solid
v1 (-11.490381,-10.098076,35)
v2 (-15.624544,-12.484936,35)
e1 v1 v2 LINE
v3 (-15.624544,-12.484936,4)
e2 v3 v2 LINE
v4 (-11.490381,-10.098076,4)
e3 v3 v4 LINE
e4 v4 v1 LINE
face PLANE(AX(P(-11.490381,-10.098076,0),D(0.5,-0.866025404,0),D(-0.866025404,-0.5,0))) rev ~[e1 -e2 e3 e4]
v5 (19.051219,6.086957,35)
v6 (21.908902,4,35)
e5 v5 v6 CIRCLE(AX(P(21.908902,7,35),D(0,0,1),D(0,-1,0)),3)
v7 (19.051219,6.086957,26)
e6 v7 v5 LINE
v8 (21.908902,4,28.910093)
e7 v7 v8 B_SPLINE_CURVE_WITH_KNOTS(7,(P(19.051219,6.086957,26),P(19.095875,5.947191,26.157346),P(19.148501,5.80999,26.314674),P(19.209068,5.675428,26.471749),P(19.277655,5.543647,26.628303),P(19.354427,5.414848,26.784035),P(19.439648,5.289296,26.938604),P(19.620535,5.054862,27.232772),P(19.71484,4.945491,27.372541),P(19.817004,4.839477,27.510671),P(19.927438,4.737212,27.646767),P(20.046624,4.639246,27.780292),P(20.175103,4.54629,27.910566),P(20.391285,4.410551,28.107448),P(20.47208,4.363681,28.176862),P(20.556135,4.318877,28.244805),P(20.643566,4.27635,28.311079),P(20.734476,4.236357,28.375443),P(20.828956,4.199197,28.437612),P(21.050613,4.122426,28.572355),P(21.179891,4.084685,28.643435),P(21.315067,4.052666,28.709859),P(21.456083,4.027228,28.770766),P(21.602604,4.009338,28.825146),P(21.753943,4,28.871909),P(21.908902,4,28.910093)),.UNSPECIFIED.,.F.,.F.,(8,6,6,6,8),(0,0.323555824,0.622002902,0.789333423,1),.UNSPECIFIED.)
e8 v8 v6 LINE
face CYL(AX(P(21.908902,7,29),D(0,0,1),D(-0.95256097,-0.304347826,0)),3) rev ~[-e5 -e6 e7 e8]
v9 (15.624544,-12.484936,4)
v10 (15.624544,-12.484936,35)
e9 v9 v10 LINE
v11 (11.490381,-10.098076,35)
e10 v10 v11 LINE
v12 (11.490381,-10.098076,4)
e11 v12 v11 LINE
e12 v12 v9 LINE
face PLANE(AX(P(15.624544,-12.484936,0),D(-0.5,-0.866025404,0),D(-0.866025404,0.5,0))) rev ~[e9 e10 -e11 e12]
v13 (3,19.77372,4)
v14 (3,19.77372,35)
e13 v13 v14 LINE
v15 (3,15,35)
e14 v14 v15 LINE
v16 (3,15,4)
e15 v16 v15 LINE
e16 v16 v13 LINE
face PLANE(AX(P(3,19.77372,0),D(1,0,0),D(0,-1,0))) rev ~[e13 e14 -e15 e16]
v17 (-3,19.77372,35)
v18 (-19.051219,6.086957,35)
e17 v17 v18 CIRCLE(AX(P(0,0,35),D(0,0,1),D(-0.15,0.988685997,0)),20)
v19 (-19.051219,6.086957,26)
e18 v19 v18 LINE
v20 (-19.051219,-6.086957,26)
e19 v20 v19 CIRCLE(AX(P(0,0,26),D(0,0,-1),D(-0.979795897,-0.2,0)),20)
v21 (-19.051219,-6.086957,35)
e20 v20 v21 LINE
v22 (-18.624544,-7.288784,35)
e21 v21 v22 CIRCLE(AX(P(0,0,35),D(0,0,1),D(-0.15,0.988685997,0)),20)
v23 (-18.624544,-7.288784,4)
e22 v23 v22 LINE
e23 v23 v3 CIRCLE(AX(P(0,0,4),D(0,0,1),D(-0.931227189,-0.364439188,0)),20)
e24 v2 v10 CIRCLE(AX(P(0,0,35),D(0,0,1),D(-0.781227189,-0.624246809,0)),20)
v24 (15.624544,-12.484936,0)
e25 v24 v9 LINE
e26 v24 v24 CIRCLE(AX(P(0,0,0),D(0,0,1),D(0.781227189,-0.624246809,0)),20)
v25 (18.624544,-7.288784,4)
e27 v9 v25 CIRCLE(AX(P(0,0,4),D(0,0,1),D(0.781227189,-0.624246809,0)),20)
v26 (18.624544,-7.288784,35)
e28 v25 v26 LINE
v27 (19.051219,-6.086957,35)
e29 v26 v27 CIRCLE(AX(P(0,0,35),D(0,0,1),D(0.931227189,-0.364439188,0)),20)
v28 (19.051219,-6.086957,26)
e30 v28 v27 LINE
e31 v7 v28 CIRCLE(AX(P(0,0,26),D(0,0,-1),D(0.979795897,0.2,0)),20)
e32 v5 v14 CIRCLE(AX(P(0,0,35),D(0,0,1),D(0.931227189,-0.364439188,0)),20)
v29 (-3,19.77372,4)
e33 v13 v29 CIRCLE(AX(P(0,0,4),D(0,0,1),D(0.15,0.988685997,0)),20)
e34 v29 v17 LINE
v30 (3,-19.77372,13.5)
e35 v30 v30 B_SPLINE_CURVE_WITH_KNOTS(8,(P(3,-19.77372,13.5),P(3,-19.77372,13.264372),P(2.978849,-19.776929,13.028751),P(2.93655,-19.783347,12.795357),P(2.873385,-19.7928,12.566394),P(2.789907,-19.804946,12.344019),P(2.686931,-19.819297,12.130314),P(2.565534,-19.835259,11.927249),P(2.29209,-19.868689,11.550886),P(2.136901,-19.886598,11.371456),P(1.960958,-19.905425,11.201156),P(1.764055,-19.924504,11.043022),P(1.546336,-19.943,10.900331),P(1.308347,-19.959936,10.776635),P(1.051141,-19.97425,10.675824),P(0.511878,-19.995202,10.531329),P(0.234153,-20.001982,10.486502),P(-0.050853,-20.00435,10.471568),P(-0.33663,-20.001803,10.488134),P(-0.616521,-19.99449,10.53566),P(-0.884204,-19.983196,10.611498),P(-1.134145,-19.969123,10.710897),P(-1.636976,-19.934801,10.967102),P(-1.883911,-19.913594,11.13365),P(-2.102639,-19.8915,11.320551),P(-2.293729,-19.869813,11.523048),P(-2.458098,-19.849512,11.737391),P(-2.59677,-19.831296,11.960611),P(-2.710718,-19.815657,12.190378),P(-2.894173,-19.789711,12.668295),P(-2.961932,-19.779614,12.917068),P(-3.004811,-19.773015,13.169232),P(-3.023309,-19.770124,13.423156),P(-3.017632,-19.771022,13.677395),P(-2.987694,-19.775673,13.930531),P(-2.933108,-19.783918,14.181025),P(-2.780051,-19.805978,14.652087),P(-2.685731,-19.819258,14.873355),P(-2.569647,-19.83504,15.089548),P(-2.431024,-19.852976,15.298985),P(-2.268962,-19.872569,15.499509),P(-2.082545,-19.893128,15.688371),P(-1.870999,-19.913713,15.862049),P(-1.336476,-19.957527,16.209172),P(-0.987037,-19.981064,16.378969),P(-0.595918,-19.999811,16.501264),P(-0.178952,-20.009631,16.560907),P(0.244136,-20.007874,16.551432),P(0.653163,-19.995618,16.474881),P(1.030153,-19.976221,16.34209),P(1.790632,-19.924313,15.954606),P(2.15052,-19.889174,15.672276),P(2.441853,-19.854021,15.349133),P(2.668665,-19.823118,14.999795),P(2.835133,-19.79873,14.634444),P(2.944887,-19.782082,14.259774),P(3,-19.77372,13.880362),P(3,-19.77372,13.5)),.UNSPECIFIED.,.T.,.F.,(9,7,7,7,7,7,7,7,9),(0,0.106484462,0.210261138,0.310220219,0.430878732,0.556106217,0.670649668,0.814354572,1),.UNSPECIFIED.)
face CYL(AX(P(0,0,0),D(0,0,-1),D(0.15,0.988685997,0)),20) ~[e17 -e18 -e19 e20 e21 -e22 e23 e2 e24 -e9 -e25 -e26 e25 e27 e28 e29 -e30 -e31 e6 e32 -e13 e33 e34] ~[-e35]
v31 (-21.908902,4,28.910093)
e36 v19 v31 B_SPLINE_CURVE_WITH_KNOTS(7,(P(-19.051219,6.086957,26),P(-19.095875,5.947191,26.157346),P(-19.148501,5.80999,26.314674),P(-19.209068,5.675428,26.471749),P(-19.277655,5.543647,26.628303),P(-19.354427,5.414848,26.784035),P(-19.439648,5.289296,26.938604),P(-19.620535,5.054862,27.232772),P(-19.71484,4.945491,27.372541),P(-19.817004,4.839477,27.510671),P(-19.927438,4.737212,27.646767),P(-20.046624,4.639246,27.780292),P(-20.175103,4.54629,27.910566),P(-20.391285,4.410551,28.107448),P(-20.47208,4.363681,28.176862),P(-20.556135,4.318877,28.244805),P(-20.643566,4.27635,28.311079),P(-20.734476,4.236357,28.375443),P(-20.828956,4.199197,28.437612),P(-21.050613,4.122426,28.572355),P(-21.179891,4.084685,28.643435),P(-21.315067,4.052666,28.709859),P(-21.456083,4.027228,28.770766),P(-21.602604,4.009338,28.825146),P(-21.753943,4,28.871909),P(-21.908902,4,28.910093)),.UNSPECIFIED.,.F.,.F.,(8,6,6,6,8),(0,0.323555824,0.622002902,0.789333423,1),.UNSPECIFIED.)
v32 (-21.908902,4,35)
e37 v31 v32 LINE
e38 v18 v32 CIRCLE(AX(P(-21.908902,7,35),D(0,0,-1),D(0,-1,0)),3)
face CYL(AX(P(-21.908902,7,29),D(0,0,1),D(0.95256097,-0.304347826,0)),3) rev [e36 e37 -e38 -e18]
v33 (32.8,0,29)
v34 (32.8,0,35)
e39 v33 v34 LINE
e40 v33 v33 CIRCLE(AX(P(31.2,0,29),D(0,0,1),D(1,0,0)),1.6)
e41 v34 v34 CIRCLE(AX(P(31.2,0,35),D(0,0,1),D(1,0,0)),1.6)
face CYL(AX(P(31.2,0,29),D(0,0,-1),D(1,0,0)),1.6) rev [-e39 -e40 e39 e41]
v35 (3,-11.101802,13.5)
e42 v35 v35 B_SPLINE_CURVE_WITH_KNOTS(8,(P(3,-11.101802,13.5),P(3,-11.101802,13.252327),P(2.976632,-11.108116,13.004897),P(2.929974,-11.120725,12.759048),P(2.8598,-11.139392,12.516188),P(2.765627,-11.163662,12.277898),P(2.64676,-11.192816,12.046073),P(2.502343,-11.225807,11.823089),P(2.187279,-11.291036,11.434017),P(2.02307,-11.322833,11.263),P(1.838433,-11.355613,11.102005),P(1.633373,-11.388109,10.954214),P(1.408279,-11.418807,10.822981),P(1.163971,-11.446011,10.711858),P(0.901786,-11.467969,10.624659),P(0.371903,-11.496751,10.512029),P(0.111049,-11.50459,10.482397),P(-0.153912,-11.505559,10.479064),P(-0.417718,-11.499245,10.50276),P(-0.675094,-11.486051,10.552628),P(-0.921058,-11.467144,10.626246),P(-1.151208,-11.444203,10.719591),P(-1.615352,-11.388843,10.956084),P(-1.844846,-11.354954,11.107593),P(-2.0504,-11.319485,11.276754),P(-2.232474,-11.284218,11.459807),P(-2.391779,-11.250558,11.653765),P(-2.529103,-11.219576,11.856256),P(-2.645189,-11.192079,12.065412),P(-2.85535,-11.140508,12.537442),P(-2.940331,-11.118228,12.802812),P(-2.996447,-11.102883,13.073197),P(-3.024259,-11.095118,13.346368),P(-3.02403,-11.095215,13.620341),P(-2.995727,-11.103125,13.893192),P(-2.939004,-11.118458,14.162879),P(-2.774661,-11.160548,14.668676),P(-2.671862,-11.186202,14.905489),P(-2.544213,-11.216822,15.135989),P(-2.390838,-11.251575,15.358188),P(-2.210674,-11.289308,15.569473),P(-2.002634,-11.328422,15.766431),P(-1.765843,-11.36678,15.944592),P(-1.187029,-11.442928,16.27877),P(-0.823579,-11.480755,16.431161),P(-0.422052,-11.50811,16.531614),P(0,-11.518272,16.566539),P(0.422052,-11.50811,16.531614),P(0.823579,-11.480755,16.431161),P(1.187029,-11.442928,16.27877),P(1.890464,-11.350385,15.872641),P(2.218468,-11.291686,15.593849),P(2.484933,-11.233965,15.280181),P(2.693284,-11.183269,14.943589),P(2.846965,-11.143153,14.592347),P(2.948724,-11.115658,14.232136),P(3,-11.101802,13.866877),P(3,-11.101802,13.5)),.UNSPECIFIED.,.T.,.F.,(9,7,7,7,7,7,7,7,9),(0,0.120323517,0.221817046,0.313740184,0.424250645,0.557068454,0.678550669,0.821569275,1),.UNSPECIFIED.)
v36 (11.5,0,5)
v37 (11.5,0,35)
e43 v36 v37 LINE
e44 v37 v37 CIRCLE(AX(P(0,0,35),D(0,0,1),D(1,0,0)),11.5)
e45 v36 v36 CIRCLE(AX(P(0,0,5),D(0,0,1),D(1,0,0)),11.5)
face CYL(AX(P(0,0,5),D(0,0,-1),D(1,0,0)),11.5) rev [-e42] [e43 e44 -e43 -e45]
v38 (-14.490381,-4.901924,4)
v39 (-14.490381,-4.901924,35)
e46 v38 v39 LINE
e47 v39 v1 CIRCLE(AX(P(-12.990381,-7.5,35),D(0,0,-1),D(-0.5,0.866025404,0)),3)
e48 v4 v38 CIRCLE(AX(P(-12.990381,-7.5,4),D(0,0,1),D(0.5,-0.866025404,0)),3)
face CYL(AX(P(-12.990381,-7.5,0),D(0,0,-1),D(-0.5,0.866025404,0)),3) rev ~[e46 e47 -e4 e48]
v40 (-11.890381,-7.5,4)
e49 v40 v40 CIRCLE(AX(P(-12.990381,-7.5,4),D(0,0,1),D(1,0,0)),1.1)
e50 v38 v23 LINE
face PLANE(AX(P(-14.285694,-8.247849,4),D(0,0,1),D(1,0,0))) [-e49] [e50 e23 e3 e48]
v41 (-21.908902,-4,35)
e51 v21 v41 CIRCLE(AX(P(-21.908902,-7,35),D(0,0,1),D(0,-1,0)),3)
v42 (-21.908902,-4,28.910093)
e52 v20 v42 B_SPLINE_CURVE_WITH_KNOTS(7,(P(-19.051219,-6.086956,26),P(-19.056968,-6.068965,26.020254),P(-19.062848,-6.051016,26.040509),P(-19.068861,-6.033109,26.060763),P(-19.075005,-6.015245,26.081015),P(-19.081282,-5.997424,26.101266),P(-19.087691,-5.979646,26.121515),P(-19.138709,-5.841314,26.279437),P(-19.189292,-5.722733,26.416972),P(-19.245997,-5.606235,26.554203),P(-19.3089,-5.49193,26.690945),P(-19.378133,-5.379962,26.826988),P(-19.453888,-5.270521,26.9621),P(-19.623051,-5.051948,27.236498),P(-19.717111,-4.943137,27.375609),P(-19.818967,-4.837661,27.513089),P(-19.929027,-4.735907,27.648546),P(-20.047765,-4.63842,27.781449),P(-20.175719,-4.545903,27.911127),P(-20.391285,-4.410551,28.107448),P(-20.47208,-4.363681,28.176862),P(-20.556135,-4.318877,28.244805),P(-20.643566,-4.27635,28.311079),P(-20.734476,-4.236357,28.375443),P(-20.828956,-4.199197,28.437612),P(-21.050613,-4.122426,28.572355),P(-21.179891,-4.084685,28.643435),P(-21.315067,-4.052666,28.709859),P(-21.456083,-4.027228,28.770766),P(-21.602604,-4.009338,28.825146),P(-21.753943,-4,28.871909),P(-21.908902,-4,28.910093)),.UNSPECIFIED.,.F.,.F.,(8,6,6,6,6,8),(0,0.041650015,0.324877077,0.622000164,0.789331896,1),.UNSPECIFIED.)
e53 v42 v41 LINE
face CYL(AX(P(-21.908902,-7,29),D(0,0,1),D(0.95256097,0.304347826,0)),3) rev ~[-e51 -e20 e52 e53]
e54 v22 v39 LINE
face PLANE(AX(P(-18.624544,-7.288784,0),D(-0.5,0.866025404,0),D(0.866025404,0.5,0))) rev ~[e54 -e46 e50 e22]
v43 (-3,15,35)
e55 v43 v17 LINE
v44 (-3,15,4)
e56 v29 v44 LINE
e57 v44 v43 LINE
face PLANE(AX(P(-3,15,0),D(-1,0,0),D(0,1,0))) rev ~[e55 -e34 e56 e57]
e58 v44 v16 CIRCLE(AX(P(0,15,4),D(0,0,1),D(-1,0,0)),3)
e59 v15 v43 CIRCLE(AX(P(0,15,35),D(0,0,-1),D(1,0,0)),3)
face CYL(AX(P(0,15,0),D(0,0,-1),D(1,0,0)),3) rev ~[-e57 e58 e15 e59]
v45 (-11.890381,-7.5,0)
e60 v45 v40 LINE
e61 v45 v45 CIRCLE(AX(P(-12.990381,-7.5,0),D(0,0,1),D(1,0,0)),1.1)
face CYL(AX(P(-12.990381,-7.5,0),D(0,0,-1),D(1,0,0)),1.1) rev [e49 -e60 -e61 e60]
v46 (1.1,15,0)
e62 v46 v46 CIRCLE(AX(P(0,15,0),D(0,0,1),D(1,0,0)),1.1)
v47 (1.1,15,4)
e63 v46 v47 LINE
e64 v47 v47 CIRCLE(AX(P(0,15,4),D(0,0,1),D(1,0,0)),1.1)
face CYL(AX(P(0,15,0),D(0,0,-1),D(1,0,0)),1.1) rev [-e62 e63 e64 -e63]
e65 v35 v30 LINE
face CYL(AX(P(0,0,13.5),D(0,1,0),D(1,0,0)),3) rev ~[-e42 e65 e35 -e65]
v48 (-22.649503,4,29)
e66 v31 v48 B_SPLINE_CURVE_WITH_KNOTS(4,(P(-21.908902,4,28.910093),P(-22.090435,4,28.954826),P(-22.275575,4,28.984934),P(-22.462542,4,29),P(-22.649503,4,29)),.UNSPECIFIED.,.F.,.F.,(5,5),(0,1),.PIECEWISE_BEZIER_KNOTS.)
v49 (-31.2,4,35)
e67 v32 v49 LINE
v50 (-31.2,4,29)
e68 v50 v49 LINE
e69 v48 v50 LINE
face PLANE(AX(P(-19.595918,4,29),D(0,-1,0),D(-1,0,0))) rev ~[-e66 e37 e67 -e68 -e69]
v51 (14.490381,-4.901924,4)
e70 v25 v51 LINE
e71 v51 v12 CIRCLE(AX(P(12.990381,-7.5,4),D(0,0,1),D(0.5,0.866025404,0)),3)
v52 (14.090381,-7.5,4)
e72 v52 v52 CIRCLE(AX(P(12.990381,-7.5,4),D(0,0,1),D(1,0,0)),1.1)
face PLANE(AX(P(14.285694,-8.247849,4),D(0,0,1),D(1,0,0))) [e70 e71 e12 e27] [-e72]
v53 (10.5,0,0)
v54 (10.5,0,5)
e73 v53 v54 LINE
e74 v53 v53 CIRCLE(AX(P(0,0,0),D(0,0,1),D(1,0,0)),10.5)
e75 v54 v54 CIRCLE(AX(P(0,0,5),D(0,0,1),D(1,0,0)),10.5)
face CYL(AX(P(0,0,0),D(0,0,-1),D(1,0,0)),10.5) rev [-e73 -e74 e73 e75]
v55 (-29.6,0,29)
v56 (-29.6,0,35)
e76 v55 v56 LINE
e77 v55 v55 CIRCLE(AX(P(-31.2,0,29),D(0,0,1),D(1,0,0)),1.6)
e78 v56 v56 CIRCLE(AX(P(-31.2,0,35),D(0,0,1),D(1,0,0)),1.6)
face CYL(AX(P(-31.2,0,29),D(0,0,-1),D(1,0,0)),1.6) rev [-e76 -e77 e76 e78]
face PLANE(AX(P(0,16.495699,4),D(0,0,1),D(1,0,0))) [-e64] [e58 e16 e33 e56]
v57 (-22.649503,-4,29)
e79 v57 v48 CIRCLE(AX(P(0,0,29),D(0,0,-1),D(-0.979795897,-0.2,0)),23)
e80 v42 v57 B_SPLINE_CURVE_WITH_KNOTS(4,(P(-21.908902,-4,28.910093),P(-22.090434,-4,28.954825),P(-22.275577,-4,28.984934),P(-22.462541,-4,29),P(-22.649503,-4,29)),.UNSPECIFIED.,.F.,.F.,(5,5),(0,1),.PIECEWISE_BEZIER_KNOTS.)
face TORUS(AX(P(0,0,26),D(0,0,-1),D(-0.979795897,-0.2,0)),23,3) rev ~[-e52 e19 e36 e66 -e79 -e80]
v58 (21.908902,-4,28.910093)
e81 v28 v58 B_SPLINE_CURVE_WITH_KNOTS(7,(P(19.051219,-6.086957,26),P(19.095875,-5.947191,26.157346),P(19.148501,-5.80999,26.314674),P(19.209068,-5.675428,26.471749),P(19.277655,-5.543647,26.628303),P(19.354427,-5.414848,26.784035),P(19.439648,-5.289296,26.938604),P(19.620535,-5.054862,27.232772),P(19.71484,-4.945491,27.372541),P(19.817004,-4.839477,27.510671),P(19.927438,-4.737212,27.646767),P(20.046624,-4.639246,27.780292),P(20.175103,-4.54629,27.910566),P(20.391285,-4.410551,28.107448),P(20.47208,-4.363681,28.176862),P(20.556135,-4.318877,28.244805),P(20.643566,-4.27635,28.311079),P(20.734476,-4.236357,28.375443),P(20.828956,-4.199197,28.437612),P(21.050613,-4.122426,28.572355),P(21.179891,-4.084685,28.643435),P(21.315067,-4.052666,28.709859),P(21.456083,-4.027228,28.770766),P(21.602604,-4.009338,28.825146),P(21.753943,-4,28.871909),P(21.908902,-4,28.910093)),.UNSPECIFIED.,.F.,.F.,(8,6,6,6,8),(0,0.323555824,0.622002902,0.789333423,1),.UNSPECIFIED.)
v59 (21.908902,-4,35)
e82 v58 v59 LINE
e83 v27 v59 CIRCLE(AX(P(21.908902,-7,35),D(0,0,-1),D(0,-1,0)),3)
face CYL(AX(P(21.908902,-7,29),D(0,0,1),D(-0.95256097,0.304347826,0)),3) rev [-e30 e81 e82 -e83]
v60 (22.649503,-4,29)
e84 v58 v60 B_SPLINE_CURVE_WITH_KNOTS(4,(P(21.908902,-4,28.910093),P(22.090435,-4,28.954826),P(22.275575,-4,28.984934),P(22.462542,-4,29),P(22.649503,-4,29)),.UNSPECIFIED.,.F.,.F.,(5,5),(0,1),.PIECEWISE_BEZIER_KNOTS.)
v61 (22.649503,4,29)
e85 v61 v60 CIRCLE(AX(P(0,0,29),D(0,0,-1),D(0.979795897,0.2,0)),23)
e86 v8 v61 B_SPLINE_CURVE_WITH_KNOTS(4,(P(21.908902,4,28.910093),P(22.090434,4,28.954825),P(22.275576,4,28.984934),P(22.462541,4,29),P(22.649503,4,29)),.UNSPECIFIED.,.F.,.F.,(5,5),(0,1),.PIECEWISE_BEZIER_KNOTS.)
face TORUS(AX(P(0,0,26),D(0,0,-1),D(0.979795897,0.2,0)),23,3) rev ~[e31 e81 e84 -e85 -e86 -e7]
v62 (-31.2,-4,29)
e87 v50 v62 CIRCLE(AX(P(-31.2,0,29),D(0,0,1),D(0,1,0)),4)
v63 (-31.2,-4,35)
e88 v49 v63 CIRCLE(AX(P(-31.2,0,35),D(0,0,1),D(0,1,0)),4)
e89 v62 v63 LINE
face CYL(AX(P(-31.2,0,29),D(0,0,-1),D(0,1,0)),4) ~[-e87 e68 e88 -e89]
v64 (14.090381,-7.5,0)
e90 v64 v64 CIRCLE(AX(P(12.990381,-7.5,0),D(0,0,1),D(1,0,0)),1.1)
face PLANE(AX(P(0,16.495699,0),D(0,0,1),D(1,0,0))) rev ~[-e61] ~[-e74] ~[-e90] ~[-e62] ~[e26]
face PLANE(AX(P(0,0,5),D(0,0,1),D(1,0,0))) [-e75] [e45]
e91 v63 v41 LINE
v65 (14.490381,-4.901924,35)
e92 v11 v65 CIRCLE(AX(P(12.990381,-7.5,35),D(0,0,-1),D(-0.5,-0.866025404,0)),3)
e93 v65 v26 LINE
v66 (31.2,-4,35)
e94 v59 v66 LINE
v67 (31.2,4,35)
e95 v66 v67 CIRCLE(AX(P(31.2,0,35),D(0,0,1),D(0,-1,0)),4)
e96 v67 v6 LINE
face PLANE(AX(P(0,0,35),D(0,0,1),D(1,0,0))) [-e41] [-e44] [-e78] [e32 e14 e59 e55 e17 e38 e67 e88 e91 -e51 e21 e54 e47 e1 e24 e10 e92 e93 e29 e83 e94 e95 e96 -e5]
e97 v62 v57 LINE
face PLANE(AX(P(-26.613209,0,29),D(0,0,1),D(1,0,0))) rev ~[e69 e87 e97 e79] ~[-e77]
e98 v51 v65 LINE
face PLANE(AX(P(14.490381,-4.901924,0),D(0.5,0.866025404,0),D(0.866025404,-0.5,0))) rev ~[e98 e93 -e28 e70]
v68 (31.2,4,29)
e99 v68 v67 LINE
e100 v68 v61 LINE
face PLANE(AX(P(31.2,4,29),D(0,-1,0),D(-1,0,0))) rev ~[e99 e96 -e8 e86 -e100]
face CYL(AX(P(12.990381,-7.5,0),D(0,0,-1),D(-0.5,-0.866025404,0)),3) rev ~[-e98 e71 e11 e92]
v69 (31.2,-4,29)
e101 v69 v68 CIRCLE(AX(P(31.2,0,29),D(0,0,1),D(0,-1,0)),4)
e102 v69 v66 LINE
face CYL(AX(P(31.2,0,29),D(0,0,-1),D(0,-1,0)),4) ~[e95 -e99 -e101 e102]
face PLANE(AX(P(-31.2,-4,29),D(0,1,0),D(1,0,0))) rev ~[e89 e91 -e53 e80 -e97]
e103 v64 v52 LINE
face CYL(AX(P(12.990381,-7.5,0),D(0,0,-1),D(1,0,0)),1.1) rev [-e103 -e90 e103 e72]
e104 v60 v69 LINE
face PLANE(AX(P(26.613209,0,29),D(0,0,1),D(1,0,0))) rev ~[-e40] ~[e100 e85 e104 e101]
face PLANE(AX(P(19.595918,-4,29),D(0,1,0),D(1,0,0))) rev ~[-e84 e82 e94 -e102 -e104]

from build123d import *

# Parameters (mm, degrees)
SKETCH1_R           = 10.5
BOSS_EXTRUDE1_DEPTH = 35
SKETCH1_3_R         = 1.0999999999987757
SKETCH1_3_R_2       = 1.0999999999999885
SKETCH1_3_R_3       = 1.0999999999996088
BOSS_EXTRUDE2_DEPTH = 4
CUT_EXTRUDE1_START  = -30
SKETCH2_R           = 11.5
SKETCH2_R_2         = 10.5
CUT_EXTRUDE1_DEPTH  = 30
BOSS_EXTRUDE3_START = -6
SKETCH2_3_R         = 1.599999999999998
SKETCH2_3_R_2       = 1.599999999999995
BOSS_EXTRUDE3_DEPTH = 6
FILLET1_R           = 3
SKETCH3_R           = 3.0000000000000004
CUT_EXTRUDE2_DEPTH  = 54.516726422680286


with BuildPart() as part:
    # Sketch1 → Boss-Extrude1 (new body)
    with BuildSketch(Plane.XY):
        with BuildLine():
            ThreePointArc((2.9999999999998876, 15.000000000000563), (1.0993e-12, 12.000000000001776), (-2.9999999999976876, 15.000000000000563))
            Line((-2.9999999999988978, 15.000000000000593), (-2.9999999999988947, 19.77371993328577))
            ThreePointArc((-2.999999999998834, 19.773719933285363), (-17.320508075688434, 10.00000000000059), (-18.62454378954378, -7.288783755289101))
            Line((-18.624543789543775, -7.288783755289104), (-14.490381056766635, -4.901923788646557))
            ThreePointArc((-14.490381056766635, -4.901923788646555), (-11.490381056766648, -4.9019237886465765), (-9.990381056766658, -7.499999999999886))
            ThreePointArc((-9.990381056766658, -7.499999999999887), (-10.39230484541335, -8.9999999999999), (-11.490381056766685, -10.098076211353218))
            Line((-11.490381056766685, -10.098076211353215), (-15.624543789543822, -12.484936177995765))
            ThreePointArc((-15.624543789543823, -12.484936177995765), (-7.473e-14, -20), (15.624543789543718, -12.484936177995895))
            Line((15.624543789544566, -12.484936177996572), (11.490381056767449, -10.098076211353982))
            ThreePointArc((11.490381056767642, -10.098076211353645), (10.392304845414507, -6.000000000000834), (14.490381056767315, -4.9019237886476965))
            Line((14.490381056767498, -4.901923788647381), (18.624543789544614, -7.28878375528997))
            ThreePointArc((18.62454378954359, -7.28878375528958), (19.653127941766318, -3.7087143465848165), (20, -4.9e-15))
            ThreePointArc((20, 0), (15.165750888103432, 13.038404810404913), (3.000000000001001, 19.773719933285037))
            Line((3.000000000001103, 19.773719933285708), (3.0000000000011, 15.000000000000533))
        make_face()
        Circle(SKETCH1_R, mode=Mode.SUBTRACT)
    extrude(amount=BOSS_EXTRUDE1_DEPTH)

    # Sketch1<3> → Boss-Extrude2 (add)
    # profile 1 of 3: a face of its own
    with BuildSketch(Plane.XY):
        with BuildLine():
            Line((-2.9999999999988947, 19.77371993328577), (-2.9999999999988978, 15.000000000000593))
            ThreePointArc((-2.9999999999976876, 15.000000000000563), (1.0993e-12, 12.000000000001776), (2.9999999999998876, 15.000000000000563))
            Line((3.0000000000011, 15.000000000000533), (3.000000000001103, 19.773719933285708))
            ThreePointArc((3.000000000001001, 19.773719933285037), (1.09368e-12, 20), (-2.999999999998834, 19.773719933285363))
        make_face()
        with Locations((1.09985e-12, 15.000000000000563)):
            Circle(SKETCH1_3_R, mode=Mode.SUBTRACT)
    # profile 2 of 3: a face of its own
    with BuildSketch(Plane.XY):
        with BuildLine():
            Line((-14.490381056766635, -4.901923788646557), (-18.624543789543775, -7.288783755289104))
            ThreePointArc((-18.62454378954378, -7.288783755289101), (-17.32050807568887, -9.999999999999833), (-15.624543789543823, -12.484936177995765))
            Line((-15.624543789543822, -12.484936177995765), (-11.490381056766685, -10.098076211353215))
            ThreePointArc((-11.490381056766683, -10.098076211353217), (-10.392304845413328, -5.999999999999909), (-14.490381056766637, -4.901923788646555))
        make_face()
        with Locations((-12.99038105676666, -7.499999999999886)):
            Circle(SKETCH1_3_R_2, mode=Mode.SUBTRACT)
    # profile 3 of 3: a face of its own
    with BuildSketch(Plane.XY):
        with BuildLine():
            ThreePointArc((15.624543789543718, -12.484936177995895), (17.320508075688696, -10.000000000000131), (18.62454378954359, -7.28878375528958))
            Line((18.624543789544614, -7.28878375528997), (14.490381056767498, -4.901923788647381))
            ThreePointArc((14.490381056767315, -4.9019237886476965), (10.392304845414507, -6.000000000000834), (11.490381056767642, -10.098076211353645))
            Line((11.490381056767449, -10.098076211353982), (15.624543789544566, -12.484936177996572))
        make_face()
        with Locations((12.99038105676748, -7.5000000000006715)):
            Circle(SKETCH1_3_R_3, mode=Mode.SUBTRACT)
    extrude(amount=BOSS_EXTRUDE2_DEPTH)

    # Sketch2 → Cut-Extrude1 (cut)
    with BuildSketch(Plane.XY.offset(35).offset(CUT_EXTRUDE1_START)):
        Circle(SKETCH2_R)
        Circle(SKETCH2_R_2, mode=Mode.SUBTRACT)
    extrude(amount=CUT_EXTRUDE1_DEPTH, mode=Mode.SUBTRACT)

    # Sketch2<3> → Boss-Extrude3 (add)
    # profile 1 of 2: a face of its own
    with BuildSketch(Plane.XY.offset(35).offset(BOSS_EXTRUDE3_START)):
        with BuildLine():
            Line((19.59591794226542, -3.9999999999999982), (31.2, -3.9999999999999982))
            ThreePointArc((31.2, -3.999999999999999), (35.199999999999996, -2.4e-16), (31.2, 3.999999999999999))
            Line((31.2, 3.9999999999999982), (19.59591794226542, 3.9999999999999982))
            ThreePointArc((19.595917942265423, 3.999999999999999), (19.999999999999996, -8.9e-16), (19.595917942265427, -3.9999999999999996))
        make_face()
        with Locations((31.2, 0)):
            Circle(SKETCH2_3_R, mode=Mode.SUBTRACT)
    # profile 2 of 2: a face of its own
    with BuildSketch(Plane.XY.offset(35).offset(BOSS_EXTRUDE3_START)):
        with BuildLine():
            ThreePointArc((-19.595917942265448, -3.9999999999998597), (-19.999999999999996, 1.4456e-13), (-19.595917942265395, 4.000000000000134))
            Line((-19.59591794226539, 4.000000000000135), (-31.19999999999997, 4.000000000000216))
            ThreePointArc((-31.19999999999997, 4.000000000000215), (-35.199999999999996, 2.4678e-13), (-31.200000000000028, -3.9999999999997793))
            Line((-31.200000000000028, -3.9999999999997806), (-19.595917942265448, -3.9999999999998614))
        make_face()
        with Locations((-31.2, 2.1787e-13)):
            Circle(SKETCH2_3_R_2, mode=Mode.SUBTRACT)
    extrude(amount=BOSS_EXTRUDE3_DEPTH)

    # Fillet1
    fillet1_edges = [part.edges().sort_by_distance(p)[0] for p in [
        (19.595917942265423, -3.999999999999999, 32),
        (20, 2.2e-16, 29),
        (19.595917942265423, 3.9999999999999987, 32),
        (-19.595917942265395, 4.000000000000135, 32),
        (-19.999999999999996, 1.4011e-13, 29),
        (-19.595917942265448, -3.999999999999861, 32),
    ]]
    fillet(fillet1_edges, radius=FILLET1_R)

    # Sketch3 → Cut-Extrude2 (cut, through all)
    with BuildSketch(Plane(origin=(0, 0, 0), x_dir=(1, 0, 0), z_dir=(0, 1, 0))):
        with Locations((0, -13.499999999999998)):
            Circle(SKETCH3_R)
    extrude(amount=-CUT_EXTRUDE2_DEPTH, mode=Mode.SUBTRACT)


solid = part.part
